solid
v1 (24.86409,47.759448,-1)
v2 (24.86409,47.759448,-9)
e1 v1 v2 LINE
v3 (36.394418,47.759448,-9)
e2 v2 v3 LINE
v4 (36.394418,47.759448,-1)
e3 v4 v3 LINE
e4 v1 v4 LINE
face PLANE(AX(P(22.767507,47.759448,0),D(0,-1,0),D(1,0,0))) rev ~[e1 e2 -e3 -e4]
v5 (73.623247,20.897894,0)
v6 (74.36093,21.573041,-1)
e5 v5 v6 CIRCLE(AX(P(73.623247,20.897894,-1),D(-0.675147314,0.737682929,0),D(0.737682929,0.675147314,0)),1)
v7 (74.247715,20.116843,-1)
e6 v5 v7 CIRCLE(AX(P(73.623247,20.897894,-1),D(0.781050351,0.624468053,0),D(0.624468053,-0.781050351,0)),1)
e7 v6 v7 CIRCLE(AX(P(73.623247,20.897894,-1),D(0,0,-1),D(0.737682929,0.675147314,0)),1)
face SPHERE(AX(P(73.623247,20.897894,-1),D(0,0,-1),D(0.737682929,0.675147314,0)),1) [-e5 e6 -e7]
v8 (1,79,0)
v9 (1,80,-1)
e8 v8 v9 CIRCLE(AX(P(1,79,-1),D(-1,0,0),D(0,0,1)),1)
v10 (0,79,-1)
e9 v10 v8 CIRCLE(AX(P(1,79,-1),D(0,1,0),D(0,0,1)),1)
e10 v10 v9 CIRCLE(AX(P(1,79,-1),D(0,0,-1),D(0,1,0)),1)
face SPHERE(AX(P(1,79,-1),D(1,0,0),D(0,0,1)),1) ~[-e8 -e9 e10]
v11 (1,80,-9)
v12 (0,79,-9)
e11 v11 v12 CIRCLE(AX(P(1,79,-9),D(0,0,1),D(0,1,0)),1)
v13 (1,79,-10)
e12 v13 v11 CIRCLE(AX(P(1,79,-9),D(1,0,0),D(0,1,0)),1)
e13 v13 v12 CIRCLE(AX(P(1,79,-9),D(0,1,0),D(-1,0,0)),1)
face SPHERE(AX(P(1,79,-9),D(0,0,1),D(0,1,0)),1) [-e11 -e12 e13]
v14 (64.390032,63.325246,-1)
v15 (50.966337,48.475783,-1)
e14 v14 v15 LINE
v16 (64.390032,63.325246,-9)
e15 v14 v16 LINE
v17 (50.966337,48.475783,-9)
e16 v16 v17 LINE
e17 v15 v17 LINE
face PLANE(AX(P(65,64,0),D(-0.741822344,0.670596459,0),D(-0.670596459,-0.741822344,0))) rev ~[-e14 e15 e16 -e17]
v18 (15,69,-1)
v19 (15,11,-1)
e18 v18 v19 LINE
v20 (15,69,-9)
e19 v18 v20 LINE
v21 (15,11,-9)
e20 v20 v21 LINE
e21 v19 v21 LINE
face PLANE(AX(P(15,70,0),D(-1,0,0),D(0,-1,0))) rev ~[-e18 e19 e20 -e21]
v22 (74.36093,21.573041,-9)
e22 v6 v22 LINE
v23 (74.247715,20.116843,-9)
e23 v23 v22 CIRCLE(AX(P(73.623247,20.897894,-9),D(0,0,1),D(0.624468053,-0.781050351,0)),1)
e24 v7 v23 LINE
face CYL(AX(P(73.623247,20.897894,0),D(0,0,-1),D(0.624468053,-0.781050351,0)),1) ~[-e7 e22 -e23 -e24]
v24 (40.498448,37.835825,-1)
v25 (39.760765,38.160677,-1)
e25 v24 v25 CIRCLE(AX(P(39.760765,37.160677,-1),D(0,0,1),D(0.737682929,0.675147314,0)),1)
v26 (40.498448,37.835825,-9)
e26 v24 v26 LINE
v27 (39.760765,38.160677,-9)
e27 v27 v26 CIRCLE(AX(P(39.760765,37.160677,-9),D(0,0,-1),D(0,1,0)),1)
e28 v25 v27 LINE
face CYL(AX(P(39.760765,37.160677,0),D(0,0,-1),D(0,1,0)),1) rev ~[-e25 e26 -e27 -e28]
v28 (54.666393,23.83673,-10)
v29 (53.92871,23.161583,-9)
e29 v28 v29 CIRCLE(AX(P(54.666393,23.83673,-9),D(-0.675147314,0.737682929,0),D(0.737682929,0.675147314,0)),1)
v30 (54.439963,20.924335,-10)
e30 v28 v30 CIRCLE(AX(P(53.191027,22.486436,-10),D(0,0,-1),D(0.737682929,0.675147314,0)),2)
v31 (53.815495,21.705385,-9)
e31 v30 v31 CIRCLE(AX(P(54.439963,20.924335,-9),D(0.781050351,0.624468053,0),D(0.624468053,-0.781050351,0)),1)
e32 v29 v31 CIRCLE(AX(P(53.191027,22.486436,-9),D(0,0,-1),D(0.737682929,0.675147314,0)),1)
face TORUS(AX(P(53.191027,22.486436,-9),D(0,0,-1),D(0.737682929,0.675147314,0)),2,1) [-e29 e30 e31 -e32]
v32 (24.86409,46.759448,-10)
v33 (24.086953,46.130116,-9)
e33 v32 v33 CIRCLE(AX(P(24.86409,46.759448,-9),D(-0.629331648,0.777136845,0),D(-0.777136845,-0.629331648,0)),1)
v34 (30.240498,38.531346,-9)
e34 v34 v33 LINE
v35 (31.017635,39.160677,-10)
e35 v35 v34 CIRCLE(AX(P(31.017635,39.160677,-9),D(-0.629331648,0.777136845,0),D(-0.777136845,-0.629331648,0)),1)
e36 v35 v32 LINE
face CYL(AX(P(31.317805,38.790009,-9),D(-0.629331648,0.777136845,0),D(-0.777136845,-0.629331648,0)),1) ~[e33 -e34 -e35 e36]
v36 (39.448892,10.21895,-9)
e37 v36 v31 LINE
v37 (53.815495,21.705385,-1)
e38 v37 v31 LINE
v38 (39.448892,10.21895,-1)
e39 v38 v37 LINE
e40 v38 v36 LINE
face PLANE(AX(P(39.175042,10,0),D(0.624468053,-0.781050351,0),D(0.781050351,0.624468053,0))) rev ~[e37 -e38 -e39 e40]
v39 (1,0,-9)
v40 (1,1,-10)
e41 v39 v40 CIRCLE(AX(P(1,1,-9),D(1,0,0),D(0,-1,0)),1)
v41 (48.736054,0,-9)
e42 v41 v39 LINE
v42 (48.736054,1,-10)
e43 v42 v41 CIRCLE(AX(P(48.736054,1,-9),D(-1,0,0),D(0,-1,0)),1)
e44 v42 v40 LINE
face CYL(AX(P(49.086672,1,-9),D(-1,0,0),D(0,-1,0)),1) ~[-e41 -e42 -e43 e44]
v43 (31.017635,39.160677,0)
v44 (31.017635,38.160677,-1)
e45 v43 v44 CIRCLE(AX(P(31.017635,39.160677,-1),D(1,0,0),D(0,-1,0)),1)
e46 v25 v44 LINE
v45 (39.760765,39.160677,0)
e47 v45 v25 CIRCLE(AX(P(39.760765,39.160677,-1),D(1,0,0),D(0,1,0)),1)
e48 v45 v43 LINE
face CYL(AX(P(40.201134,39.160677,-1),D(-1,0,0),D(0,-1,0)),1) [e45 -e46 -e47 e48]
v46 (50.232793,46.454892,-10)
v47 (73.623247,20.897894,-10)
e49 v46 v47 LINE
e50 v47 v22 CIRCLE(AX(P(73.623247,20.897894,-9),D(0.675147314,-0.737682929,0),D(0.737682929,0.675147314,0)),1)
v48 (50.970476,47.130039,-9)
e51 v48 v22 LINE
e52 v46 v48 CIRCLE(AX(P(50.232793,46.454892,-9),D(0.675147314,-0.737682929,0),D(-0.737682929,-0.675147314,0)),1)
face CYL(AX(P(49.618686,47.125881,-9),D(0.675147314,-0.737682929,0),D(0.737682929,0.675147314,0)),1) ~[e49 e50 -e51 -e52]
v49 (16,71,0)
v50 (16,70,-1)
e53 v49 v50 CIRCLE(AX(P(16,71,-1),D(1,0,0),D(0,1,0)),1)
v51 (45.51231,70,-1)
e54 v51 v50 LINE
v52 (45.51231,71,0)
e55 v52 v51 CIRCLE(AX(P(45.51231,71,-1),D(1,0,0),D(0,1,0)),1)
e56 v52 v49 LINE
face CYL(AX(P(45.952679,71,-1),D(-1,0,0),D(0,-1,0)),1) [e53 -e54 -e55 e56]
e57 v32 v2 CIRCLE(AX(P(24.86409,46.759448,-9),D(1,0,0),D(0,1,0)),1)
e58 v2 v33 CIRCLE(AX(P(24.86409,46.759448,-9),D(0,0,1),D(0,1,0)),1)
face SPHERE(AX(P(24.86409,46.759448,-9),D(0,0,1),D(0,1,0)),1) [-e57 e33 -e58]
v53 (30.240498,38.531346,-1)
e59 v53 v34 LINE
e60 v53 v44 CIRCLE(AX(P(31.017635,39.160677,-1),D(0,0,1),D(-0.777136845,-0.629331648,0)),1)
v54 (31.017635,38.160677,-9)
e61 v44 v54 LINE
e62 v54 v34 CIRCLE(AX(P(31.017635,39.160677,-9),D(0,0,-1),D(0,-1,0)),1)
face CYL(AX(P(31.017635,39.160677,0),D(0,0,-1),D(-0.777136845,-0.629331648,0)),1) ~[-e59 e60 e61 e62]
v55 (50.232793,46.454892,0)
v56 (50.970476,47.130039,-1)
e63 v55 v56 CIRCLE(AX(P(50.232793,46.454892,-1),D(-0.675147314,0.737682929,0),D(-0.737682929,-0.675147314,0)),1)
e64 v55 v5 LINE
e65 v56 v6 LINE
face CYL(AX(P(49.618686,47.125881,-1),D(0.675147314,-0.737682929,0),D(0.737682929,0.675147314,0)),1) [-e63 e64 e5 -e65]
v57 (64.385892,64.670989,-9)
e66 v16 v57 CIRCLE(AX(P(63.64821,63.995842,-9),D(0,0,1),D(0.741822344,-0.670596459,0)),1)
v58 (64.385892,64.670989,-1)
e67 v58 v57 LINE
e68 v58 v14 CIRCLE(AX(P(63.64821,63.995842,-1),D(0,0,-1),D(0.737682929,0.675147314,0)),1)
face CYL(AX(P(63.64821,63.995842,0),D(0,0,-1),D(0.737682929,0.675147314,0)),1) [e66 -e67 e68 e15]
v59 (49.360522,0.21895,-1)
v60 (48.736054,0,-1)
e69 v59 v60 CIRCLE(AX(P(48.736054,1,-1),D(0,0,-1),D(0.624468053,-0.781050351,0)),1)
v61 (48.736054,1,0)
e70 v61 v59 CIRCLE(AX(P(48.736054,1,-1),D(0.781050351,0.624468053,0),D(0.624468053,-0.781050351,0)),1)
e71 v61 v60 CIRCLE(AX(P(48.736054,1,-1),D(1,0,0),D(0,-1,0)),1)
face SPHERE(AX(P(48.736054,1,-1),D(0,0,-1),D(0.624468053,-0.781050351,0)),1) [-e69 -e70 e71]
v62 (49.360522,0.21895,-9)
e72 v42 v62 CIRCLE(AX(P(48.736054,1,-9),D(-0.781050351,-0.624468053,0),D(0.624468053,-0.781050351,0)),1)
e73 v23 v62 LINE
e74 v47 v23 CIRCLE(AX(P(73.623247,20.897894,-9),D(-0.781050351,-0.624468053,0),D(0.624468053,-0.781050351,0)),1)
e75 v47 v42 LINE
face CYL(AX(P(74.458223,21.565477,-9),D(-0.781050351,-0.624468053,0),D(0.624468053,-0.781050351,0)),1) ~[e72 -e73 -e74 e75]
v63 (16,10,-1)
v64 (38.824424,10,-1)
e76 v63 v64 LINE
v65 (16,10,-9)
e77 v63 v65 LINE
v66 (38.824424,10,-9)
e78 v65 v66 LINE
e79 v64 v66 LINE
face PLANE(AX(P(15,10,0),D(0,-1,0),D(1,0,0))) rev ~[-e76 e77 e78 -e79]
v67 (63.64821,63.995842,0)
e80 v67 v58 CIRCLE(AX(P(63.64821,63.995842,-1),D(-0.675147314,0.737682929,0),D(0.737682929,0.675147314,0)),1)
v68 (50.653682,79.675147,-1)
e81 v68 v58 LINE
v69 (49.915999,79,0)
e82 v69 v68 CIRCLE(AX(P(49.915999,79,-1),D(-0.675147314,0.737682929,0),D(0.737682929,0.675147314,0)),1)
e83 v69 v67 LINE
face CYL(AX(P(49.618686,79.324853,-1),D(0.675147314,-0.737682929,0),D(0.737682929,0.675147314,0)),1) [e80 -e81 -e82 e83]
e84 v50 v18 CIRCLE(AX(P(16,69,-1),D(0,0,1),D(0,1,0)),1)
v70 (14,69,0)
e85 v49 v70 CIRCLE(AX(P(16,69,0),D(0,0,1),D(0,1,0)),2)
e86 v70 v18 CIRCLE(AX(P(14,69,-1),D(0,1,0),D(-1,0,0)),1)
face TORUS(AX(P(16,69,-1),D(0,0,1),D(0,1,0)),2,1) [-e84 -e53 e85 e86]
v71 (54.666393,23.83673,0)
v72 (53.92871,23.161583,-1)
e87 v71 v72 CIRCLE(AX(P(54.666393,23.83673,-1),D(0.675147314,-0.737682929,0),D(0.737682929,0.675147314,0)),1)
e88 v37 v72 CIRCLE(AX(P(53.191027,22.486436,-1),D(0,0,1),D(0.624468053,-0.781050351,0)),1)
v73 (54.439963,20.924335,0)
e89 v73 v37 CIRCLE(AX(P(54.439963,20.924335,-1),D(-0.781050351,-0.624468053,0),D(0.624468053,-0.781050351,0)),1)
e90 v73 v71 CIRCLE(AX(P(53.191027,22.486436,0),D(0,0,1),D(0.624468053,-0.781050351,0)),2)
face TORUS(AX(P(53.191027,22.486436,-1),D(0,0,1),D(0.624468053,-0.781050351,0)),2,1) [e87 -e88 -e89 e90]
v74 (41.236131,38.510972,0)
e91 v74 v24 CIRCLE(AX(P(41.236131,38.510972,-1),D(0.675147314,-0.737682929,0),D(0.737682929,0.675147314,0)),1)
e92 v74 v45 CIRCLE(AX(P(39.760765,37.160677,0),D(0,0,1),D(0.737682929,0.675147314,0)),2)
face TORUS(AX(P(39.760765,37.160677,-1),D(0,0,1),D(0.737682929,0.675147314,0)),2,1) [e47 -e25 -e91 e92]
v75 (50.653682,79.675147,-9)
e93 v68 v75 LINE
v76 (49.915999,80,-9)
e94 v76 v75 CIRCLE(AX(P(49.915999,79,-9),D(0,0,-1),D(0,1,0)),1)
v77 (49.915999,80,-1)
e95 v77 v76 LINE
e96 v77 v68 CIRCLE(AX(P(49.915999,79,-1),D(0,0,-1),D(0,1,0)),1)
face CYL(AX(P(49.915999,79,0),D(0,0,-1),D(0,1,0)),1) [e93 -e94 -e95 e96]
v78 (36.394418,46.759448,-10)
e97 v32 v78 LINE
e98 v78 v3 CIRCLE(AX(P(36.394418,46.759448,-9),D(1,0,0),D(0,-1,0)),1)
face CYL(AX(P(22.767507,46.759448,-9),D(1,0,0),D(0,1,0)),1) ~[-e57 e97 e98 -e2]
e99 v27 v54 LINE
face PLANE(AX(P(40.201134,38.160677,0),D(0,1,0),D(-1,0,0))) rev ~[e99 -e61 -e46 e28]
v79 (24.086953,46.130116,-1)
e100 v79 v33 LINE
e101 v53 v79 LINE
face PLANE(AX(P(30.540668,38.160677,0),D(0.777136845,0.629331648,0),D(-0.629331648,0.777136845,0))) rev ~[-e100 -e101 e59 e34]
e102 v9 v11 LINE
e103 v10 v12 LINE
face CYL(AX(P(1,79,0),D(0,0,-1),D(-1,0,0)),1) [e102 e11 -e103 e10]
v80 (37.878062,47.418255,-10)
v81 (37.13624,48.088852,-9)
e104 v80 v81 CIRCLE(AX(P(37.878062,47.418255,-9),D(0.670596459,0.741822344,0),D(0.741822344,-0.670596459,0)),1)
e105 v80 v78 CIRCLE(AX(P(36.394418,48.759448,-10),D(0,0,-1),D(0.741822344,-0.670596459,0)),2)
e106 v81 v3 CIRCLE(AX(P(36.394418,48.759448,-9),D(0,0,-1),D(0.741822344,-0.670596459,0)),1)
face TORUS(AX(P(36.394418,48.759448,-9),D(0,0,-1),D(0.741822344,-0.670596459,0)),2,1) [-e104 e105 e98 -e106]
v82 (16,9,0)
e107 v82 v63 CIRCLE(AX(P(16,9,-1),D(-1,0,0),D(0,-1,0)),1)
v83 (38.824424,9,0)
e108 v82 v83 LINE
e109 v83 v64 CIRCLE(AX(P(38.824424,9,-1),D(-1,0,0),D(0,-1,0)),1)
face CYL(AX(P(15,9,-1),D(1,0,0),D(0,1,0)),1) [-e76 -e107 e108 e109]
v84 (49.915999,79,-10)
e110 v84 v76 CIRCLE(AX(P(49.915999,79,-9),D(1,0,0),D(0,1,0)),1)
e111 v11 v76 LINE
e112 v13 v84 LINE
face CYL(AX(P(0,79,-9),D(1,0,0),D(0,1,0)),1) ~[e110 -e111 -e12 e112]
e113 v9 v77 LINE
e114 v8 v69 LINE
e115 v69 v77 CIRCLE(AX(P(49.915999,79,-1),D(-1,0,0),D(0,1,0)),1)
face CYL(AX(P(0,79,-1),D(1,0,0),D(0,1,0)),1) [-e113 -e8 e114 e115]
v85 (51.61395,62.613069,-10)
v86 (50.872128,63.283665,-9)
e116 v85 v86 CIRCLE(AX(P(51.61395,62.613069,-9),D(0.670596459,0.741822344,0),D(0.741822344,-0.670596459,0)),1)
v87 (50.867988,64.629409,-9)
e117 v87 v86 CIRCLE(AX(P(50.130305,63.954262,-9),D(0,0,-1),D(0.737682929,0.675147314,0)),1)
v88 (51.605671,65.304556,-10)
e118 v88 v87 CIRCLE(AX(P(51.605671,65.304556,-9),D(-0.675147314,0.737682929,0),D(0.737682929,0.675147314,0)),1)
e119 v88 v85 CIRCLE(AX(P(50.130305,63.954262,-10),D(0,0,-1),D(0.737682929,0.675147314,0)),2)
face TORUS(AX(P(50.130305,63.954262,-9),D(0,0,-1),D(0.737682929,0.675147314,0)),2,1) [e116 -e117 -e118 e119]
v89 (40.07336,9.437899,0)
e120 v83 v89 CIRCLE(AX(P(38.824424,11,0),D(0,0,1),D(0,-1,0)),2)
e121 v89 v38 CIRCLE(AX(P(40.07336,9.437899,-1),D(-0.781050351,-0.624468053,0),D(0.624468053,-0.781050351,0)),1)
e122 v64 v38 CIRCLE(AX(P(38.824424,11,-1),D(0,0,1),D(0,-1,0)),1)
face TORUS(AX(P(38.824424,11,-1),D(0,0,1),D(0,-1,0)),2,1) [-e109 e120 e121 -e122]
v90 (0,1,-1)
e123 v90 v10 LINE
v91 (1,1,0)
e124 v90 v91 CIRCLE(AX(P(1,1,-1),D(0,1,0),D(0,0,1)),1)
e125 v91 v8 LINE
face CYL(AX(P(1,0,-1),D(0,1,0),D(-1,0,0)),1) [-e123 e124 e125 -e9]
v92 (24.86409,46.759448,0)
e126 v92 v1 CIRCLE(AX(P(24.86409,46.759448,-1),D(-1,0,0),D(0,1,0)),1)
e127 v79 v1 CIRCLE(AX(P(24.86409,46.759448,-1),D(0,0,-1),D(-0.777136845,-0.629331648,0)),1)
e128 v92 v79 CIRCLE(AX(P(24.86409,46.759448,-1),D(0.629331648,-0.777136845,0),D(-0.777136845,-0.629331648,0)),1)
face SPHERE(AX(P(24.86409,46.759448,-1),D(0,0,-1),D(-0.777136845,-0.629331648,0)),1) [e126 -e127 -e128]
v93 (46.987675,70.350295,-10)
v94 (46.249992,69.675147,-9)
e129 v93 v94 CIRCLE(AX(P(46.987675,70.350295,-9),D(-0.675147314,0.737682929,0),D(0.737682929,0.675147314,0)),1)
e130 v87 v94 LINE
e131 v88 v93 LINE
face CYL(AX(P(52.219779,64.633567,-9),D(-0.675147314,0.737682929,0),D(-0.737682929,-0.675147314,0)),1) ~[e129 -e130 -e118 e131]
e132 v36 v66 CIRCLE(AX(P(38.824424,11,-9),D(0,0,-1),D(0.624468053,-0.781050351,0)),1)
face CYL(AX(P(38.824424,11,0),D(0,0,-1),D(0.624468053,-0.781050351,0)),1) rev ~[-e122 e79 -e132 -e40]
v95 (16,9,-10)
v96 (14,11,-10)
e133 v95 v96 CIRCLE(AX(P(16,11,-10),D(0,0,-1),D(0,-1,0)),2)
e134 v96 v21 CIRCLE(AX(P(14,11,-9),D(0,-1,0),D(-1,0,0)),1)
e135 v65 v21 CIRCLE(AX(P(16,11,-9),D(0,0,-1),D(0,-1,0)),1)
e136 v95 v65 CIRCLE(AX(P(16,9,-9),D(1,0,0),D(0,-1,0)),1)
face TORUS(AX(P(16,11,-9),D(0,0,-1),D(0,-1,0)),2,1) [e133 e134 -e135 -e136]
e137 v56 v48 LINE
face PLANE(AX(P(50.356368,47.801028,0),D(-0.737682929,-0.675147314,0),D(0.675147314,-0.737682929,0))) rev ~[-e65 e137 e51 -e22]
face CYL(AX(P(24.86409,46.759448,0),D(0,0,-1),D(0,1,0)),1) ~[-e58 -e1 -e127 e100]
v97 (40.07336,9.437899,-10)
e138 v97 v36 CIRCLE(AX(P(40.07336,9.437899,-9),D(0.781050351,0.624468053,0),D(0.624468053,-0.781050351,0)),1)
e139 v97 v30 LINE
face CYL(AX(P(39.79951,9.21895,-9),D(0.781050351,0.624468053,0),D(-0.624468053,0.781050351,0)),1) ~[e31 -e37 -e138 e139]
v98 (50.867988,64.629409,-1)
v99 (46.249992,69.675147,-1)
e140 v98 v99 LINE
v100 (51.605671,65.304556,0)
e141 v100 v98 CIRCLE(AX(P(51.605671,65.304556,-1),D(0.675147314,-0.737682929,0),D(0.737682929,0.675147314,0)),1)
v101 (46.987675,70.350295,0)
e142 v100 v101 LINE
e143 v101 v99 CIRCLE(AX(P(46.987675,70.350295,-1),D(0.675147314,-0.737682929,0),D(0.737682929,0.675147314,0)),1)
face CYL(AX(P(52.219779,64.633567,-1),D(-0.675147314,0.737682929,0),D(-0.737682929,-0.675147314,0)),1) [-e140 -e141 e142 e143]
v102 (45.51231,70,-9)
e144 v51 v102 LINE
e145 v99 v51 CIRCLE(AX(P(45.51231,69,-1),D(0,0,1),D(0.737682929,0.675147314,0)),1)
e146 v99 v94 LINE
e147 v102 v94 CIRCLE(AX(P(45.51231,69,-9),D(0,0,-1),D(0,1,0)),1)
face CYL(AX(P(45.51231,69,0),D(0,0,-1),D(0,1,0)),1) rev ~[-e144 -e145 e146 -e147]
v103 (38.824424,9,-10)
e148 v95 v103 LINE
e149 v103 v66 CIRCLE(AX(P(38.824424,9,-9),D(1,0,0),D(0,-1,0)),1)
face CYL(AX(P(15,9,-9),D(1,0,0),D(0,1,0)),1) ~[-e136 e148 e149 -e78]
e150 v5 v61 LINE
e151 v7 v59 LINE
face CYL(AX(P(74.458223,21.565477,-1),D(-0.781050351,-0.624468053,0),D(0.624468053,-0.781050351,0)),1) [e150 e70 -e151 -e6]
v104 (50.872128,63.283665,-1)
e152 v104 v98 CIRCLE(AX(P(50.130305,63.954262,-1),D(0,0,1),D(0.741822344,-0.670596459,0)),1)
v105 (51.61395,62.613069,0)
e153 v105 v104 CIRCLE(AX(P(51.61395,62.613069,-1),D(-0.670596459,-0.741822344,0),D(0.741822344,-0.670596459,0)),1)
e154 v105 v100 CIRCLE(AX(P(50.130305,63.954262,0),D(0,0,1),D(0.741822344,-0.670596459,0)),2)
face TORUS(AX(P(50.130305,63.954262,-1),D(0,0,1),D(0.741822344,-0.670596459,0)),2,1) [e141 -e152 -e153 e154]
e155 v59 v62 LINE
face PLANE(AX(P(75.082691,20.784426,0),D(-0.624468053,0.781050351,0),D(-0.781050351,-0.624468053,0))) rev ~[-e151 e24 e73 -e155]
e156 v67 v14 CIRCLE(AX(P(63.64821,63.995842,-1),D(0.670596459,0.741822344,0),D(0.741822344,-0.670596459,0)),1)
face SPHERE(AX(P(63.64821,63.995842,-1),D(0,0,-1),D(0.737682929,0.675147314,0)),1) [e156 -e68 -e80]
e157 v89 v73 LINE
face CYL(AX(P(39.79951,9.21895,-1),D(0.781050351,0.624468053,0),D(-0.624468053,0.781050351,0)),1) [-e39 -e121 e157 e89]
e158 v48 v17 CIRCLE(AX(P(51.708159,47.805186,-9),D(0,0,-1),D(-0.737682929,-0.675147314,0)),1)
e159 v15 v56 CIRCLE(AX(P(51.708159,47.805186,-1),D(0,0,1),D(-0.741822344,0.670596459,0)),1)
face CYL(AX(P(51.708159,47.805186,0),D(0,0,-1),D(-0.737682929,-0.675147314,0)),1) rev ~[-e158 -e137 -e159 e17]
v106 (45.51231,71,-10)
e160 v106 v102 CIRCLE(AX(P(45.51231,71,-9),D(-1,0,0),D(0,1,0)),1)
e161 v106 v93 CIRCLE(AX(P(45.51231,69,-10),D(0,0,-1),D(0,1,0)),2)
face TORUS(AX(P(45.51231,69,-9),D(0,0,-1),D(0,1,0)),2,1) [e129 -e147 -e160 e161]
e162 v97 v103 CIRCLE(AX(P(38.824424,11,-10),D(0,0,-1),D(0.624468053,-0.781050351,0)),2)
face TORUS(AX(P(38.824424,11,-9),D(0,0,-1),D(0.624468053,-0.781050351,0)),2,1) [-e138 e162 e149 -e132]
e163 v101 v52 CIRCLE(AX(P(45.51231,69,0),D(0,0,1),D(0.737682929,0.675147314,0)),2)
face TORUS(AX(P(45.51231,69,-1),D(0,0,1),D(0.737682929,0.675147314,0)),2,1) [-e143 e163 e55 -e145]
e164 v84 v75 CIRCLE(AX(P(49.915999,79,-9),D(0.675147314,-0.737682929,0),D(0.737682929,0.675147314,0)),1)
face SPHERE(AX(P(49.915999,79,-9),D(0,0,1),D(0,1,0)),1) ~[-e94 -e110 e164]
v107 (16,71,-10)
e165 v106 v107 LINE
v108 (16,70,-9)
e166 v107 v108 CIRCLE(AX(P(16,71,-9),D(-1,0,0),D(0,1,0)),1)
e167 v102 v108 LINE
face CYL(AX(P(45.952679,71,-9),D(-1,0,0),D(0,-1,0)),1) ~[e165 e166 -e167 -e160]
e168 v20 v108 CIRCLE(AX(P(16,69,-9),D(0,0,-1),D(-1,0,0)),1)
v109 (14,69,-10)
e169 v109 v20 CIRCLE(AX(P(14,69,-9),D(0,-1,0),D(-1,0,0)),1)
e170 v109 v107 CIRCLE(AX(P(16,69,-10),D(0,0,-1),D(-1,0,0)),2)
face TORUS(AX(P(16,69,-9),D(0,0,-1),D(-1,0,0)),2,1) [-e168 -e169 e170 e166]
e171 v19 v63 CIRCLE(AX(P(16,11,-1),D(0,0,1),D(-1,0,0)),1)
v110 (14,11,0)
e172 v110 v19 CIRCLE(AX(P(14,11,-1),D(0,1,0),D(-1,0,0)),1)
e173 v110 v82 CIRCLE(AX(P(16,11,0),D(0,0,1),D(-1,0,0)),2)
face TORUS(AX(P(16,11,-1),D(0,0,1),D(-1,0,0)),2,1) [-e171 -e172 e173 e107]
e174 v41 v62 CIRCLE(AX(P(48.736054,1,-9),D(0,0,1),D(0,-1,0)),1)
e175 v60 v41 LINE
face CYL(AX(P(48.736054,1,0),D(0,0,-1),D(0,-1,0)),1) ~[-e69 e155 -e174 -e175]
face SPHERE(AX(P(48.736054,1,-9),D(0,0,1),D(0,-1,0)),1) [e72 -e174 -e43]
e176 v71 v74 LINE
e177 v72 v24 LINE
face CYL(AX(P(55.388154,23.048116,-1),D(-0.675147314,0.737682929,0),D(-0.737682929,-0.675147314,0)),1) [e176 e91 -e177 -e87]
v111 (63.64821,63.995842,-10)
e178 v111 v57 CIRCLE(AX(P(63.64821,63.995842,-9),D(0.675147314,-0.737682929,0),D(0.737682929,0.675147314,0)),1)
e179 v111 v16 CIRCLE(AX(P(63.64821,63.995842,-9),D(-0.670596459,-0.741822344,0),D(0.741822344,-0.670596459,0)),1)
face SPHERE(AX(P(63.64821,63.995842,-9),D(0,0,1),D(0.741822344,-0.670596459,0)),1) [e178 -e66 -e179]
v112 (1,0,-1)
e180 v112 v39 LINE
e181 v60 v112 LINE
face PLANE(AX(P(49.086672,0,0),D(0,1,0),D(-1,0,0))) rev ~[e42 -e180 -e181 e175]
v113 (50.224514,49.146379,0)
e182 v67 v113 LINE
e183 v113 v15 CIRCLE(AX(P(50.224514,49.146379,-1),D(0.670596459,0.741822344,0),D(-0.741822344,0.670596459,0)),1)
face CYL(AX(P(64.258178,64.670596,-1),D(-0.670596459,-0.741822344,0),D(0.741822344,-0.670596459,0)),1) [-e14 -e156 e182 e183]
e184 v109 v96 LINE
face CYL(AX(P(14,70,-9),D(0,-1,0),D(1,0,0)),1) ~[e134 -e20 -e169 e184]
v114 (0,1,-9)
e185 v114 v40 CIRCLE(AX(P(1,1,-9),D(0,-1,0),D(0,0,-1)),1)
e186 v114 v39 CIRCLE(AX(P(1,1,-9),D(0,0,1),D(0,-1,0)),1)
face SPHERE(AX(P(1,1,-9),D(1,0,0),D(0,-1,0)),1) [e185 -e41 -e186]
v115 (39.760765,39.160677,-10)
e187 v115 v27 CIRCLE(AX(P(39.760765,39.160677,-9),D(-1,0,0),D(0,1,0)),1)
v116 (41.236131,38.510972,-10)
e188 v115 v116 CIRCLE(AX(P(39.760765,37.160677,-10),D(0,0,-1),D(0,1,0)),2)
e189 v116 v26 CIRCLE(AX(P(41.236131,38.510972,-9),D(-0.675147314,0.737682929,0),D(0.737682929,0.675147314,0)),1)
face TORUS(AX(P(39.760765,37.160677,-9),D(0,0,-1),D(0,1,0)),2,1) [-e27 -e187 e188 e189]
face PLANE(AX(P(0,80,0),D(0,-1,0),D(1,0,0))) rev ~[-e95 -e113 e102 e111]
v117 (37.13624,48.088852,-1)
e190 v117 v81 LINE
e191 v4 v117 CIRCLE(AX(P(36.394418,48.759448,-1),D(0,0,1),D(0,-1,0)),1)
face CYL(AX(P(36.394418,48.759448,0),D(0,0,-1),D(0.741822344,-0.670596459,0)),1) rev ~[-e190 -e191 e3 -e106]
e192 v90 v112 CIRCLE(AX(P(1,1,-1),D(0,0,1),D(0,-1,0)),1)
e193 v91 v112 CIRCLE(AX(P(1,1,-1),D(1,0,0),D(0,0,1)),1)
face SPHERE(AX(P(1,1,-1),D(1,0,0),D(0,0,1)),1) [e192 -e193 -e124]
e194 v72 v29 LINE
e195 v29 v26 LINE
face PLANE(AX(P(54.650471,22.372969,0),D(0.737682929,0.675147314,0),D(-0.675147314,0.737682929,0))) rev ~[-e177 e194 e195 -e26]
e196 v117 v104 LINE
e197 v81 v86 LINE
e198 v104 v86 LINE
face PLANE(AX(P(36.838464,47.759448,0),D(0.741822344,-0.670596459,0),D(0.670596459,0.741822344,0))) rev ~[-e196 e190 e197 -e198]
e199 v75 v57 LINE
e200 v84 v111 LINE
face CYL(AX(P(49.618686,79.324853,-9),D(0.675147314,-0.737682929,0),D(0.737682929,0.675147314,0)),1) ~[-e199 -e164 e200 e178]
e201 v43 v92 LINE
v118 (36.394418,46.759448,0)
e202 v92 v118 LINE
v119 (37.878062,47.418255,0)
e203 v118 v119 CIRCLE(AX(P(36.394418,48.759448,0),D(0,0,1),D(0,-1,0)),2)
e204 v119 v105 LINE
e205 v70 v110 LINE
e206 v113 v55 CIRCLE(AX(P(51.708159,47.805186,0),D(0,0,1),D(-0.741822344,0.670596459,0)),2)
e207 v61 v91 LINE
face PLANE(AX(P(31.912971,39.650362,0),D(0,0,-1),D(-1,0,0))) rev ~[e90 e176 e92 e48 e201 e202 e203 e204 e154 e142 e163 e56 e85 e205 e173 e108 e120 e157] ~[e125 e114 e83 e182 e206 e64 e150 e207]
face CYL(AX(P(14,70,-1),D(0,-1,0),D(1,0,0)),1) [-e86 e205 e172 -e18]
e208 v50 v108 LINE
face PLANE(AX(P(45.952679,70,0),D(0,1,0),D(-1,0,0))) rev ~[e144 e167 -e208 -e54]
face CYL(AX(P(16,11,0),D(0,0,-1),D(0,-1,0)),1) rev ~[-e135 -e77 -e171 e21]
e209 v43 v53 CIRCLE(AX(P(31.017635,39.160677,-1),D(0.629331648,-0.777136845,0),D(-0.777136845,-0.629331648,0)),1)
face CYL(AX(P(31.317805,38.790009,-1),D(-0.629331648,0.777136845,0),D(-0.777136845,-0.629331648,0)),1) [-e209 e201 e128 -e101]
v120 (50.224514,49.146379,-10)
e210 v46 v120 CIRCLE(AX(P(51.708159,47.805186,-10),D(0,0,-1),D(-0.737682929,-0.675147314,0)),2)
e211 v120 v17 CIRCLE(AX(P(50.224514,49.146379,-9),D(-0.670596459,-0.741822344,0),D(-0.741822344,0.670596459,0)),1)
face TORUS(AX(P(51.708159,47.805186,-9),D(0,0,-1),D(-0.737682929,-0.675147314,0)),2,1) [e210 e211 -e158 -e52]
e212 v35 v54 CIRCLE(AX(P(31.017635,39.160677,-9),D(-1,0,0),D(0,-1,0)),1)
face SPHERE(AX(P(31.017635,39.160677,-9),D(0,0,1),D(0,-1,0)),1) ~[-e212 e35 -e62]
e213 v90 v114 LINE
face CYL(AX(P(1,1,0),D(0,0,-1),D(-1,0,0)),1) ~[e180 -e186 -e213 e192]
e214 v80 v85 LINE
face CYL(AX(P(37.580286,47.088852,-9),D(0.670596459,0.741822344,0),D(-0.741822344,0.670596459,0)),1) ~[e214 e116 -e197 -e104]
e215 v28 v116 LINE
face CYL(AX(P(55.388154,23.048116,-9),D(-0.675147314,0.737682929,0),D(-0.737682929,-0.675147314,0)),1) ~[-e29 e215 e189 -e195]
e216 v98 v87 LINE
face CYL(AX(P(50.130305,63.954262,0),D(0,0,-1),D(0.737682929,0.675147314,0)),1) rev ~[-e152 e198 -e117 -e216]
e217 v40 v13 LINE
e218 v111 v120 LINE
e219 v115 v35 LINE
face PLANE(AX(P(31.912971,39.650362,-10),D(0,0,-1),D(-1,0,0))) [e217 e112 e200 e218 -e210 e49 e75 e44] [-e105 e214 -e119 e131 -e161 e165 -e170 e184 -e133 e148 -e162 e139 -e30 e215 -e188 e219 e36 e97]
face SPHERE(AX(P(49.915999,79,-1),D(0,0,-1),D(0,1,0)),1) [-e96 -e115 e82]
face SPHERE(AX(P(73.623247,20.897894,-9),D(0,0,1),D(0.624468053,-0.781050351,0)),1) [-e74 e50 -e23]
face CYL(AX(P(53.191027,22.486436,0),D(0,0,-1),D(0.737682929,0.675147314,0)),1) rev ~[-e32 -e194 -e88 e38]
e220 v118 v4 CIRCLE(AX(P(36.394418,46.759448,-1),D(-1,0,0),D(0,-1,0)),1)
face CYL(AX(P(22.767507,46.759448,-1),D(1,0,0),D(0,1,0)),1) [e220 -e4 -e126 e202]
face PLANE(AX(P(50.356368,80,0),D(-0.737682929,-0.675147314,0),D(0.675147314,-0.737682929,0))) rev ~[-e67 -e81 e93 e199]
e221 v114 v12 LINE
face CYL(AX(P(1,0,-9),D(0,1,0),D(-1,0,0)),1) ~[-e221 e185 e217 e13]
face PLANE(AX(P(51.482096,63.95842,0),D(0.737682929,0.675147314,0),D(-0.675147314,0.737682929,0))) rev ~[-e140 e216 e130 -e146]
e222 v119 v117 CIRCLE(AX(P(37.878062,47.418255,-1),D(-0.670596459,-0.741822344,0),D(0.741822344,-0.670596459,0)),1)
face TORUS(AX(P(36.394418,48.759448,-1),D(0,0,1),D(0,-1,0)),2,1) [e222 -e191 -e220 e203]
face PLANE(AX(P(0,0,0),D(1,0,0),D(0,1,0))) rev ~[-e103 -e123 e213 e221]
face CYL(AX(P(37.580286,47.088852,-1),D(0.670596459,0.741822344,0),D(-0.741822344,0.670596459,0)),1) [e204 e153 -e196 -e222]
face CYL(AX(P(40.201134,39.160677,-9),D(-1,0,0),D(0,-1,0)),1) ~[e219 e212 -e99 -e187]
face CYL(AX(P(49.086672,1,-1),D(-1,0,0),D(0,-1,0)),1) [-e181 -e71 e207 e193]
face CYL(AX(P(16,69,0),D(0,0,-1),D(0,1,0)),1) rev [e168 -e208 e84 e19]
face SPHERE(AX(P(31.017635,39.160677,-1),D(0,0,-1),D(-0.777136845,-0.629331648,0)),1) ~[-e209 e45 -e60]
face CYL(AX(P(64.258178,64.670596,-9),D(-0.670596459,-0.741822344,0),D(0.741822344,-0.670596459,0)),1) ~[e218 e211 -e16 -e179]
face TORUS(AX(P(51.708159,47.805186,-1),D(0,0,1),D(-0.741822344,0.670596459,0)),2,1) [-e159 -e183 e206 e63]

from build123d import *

# Parameters (mm, degrees)
BOSS_EXTRUDE1_DEPTH = 10
FILLET1_R           = 1


with BuildPart() as part:
    # Sketch1 → Boss-Extrude1 (new body)
    with BuildSketch(Plane.XY):
        Polygon((0, 0), (0, 80), (50.35636843, 80), (65, 64), (50.35636843, 47.801028246), (75.082691126, 20.784426439), (49.086671835, 0), align=None)
        Polygon((15, 70), (15, 10), (39.175041513, 10), (54.650471107, 22.372968508), (40.201134066, 38.160677422), (30.540668467, 38.160677422), (22.767507003, 47.759448109), (36.838464072, 47.759448109), (51.482095642, 63.958419863), (45.95267854, 70), align=None, mode=Mode.SUBTRACT)
    extrude(amount=-BOSS_EXTRUDE1_DEPTH)

    # Fillet1
    fillet1_edges = [part.edges().sort_by_distance(p)[0] for p in [
        (24.543335918, 0, -10),
        (62.084681481, 10.39221322, -10),
        (26.654087735, 42.960062765, 0),
        (29.802985537, 47.759448109, 0),
        (44.160279857, 55.858933986, 0),
        (48.717387091, 66.979209931, 0),
        (30.47633927, 70, 0),
        (15, 40, 0),
        (62.719529778, 34.292727343, -10),
        (27.087520757, 10, 0),
        (46.91275631, 16.186484254, 0),
        (47.425802587, 30.266822965, 0),
        (35.370901266, 38.160677422, 0),
        (25.178184215, 80, 0),
        (57.678184215, 72, 0),
        (57.678184215, 55.900514123, 0),
        (62.719529778, 34.292727343, 0),
        (62.084681481, 10.39221322, 0),
        (24.543335918, 0, 0),
        (57.678184215, 55.900514123, -10),
        (0, 40, 0),
        (57.678184215, 72, -10),
        (30.540668467, 38.160677422, -5),
        (22.767507003, 47.759448109, -5),
        (36.838464072, 47.759448109, -5),
        (51.482095642, 63.958419863, -5),
        (45.95267854, 70, -5),
        (15, 70, -5),
        (15, 10, -5),
        (39.175041513, 10, -5),
        (54.650471107, 22.372968508, -5),
        (40.201134066, 38.160677422, -5),
        (0, 80, -5),
        (50.35636843, 80, -5),
        (65, 64, -5),
        (50.35636843, 47.801028246, -5),
        (75.082691126, 20.784426439, -5),
        (49.086671835, 0, -5),
        (0, 0, -5),
        (25.178184215, 80, -10),
        (35.370901266, 38.160677422, -10),
        (47.425802587, 30.266822965, -10),
        (46.91275631, 16.186484254, -10),
        (27.087520757, 10, -10),
        (15, 40, -10),
        (30.47633927, 70, -10),
        (0, 40, -10),
        (48.717387091, 66.979209931, -10),
        (44.160279857, 55.858933986, -10),
        (29.802985537, 47.759448109, -10),
        (26.654087735, 42.960062765, -10),
    ]]
    fillet(fillet1_edges, radius=FILLET1_R)


solid = part.part
